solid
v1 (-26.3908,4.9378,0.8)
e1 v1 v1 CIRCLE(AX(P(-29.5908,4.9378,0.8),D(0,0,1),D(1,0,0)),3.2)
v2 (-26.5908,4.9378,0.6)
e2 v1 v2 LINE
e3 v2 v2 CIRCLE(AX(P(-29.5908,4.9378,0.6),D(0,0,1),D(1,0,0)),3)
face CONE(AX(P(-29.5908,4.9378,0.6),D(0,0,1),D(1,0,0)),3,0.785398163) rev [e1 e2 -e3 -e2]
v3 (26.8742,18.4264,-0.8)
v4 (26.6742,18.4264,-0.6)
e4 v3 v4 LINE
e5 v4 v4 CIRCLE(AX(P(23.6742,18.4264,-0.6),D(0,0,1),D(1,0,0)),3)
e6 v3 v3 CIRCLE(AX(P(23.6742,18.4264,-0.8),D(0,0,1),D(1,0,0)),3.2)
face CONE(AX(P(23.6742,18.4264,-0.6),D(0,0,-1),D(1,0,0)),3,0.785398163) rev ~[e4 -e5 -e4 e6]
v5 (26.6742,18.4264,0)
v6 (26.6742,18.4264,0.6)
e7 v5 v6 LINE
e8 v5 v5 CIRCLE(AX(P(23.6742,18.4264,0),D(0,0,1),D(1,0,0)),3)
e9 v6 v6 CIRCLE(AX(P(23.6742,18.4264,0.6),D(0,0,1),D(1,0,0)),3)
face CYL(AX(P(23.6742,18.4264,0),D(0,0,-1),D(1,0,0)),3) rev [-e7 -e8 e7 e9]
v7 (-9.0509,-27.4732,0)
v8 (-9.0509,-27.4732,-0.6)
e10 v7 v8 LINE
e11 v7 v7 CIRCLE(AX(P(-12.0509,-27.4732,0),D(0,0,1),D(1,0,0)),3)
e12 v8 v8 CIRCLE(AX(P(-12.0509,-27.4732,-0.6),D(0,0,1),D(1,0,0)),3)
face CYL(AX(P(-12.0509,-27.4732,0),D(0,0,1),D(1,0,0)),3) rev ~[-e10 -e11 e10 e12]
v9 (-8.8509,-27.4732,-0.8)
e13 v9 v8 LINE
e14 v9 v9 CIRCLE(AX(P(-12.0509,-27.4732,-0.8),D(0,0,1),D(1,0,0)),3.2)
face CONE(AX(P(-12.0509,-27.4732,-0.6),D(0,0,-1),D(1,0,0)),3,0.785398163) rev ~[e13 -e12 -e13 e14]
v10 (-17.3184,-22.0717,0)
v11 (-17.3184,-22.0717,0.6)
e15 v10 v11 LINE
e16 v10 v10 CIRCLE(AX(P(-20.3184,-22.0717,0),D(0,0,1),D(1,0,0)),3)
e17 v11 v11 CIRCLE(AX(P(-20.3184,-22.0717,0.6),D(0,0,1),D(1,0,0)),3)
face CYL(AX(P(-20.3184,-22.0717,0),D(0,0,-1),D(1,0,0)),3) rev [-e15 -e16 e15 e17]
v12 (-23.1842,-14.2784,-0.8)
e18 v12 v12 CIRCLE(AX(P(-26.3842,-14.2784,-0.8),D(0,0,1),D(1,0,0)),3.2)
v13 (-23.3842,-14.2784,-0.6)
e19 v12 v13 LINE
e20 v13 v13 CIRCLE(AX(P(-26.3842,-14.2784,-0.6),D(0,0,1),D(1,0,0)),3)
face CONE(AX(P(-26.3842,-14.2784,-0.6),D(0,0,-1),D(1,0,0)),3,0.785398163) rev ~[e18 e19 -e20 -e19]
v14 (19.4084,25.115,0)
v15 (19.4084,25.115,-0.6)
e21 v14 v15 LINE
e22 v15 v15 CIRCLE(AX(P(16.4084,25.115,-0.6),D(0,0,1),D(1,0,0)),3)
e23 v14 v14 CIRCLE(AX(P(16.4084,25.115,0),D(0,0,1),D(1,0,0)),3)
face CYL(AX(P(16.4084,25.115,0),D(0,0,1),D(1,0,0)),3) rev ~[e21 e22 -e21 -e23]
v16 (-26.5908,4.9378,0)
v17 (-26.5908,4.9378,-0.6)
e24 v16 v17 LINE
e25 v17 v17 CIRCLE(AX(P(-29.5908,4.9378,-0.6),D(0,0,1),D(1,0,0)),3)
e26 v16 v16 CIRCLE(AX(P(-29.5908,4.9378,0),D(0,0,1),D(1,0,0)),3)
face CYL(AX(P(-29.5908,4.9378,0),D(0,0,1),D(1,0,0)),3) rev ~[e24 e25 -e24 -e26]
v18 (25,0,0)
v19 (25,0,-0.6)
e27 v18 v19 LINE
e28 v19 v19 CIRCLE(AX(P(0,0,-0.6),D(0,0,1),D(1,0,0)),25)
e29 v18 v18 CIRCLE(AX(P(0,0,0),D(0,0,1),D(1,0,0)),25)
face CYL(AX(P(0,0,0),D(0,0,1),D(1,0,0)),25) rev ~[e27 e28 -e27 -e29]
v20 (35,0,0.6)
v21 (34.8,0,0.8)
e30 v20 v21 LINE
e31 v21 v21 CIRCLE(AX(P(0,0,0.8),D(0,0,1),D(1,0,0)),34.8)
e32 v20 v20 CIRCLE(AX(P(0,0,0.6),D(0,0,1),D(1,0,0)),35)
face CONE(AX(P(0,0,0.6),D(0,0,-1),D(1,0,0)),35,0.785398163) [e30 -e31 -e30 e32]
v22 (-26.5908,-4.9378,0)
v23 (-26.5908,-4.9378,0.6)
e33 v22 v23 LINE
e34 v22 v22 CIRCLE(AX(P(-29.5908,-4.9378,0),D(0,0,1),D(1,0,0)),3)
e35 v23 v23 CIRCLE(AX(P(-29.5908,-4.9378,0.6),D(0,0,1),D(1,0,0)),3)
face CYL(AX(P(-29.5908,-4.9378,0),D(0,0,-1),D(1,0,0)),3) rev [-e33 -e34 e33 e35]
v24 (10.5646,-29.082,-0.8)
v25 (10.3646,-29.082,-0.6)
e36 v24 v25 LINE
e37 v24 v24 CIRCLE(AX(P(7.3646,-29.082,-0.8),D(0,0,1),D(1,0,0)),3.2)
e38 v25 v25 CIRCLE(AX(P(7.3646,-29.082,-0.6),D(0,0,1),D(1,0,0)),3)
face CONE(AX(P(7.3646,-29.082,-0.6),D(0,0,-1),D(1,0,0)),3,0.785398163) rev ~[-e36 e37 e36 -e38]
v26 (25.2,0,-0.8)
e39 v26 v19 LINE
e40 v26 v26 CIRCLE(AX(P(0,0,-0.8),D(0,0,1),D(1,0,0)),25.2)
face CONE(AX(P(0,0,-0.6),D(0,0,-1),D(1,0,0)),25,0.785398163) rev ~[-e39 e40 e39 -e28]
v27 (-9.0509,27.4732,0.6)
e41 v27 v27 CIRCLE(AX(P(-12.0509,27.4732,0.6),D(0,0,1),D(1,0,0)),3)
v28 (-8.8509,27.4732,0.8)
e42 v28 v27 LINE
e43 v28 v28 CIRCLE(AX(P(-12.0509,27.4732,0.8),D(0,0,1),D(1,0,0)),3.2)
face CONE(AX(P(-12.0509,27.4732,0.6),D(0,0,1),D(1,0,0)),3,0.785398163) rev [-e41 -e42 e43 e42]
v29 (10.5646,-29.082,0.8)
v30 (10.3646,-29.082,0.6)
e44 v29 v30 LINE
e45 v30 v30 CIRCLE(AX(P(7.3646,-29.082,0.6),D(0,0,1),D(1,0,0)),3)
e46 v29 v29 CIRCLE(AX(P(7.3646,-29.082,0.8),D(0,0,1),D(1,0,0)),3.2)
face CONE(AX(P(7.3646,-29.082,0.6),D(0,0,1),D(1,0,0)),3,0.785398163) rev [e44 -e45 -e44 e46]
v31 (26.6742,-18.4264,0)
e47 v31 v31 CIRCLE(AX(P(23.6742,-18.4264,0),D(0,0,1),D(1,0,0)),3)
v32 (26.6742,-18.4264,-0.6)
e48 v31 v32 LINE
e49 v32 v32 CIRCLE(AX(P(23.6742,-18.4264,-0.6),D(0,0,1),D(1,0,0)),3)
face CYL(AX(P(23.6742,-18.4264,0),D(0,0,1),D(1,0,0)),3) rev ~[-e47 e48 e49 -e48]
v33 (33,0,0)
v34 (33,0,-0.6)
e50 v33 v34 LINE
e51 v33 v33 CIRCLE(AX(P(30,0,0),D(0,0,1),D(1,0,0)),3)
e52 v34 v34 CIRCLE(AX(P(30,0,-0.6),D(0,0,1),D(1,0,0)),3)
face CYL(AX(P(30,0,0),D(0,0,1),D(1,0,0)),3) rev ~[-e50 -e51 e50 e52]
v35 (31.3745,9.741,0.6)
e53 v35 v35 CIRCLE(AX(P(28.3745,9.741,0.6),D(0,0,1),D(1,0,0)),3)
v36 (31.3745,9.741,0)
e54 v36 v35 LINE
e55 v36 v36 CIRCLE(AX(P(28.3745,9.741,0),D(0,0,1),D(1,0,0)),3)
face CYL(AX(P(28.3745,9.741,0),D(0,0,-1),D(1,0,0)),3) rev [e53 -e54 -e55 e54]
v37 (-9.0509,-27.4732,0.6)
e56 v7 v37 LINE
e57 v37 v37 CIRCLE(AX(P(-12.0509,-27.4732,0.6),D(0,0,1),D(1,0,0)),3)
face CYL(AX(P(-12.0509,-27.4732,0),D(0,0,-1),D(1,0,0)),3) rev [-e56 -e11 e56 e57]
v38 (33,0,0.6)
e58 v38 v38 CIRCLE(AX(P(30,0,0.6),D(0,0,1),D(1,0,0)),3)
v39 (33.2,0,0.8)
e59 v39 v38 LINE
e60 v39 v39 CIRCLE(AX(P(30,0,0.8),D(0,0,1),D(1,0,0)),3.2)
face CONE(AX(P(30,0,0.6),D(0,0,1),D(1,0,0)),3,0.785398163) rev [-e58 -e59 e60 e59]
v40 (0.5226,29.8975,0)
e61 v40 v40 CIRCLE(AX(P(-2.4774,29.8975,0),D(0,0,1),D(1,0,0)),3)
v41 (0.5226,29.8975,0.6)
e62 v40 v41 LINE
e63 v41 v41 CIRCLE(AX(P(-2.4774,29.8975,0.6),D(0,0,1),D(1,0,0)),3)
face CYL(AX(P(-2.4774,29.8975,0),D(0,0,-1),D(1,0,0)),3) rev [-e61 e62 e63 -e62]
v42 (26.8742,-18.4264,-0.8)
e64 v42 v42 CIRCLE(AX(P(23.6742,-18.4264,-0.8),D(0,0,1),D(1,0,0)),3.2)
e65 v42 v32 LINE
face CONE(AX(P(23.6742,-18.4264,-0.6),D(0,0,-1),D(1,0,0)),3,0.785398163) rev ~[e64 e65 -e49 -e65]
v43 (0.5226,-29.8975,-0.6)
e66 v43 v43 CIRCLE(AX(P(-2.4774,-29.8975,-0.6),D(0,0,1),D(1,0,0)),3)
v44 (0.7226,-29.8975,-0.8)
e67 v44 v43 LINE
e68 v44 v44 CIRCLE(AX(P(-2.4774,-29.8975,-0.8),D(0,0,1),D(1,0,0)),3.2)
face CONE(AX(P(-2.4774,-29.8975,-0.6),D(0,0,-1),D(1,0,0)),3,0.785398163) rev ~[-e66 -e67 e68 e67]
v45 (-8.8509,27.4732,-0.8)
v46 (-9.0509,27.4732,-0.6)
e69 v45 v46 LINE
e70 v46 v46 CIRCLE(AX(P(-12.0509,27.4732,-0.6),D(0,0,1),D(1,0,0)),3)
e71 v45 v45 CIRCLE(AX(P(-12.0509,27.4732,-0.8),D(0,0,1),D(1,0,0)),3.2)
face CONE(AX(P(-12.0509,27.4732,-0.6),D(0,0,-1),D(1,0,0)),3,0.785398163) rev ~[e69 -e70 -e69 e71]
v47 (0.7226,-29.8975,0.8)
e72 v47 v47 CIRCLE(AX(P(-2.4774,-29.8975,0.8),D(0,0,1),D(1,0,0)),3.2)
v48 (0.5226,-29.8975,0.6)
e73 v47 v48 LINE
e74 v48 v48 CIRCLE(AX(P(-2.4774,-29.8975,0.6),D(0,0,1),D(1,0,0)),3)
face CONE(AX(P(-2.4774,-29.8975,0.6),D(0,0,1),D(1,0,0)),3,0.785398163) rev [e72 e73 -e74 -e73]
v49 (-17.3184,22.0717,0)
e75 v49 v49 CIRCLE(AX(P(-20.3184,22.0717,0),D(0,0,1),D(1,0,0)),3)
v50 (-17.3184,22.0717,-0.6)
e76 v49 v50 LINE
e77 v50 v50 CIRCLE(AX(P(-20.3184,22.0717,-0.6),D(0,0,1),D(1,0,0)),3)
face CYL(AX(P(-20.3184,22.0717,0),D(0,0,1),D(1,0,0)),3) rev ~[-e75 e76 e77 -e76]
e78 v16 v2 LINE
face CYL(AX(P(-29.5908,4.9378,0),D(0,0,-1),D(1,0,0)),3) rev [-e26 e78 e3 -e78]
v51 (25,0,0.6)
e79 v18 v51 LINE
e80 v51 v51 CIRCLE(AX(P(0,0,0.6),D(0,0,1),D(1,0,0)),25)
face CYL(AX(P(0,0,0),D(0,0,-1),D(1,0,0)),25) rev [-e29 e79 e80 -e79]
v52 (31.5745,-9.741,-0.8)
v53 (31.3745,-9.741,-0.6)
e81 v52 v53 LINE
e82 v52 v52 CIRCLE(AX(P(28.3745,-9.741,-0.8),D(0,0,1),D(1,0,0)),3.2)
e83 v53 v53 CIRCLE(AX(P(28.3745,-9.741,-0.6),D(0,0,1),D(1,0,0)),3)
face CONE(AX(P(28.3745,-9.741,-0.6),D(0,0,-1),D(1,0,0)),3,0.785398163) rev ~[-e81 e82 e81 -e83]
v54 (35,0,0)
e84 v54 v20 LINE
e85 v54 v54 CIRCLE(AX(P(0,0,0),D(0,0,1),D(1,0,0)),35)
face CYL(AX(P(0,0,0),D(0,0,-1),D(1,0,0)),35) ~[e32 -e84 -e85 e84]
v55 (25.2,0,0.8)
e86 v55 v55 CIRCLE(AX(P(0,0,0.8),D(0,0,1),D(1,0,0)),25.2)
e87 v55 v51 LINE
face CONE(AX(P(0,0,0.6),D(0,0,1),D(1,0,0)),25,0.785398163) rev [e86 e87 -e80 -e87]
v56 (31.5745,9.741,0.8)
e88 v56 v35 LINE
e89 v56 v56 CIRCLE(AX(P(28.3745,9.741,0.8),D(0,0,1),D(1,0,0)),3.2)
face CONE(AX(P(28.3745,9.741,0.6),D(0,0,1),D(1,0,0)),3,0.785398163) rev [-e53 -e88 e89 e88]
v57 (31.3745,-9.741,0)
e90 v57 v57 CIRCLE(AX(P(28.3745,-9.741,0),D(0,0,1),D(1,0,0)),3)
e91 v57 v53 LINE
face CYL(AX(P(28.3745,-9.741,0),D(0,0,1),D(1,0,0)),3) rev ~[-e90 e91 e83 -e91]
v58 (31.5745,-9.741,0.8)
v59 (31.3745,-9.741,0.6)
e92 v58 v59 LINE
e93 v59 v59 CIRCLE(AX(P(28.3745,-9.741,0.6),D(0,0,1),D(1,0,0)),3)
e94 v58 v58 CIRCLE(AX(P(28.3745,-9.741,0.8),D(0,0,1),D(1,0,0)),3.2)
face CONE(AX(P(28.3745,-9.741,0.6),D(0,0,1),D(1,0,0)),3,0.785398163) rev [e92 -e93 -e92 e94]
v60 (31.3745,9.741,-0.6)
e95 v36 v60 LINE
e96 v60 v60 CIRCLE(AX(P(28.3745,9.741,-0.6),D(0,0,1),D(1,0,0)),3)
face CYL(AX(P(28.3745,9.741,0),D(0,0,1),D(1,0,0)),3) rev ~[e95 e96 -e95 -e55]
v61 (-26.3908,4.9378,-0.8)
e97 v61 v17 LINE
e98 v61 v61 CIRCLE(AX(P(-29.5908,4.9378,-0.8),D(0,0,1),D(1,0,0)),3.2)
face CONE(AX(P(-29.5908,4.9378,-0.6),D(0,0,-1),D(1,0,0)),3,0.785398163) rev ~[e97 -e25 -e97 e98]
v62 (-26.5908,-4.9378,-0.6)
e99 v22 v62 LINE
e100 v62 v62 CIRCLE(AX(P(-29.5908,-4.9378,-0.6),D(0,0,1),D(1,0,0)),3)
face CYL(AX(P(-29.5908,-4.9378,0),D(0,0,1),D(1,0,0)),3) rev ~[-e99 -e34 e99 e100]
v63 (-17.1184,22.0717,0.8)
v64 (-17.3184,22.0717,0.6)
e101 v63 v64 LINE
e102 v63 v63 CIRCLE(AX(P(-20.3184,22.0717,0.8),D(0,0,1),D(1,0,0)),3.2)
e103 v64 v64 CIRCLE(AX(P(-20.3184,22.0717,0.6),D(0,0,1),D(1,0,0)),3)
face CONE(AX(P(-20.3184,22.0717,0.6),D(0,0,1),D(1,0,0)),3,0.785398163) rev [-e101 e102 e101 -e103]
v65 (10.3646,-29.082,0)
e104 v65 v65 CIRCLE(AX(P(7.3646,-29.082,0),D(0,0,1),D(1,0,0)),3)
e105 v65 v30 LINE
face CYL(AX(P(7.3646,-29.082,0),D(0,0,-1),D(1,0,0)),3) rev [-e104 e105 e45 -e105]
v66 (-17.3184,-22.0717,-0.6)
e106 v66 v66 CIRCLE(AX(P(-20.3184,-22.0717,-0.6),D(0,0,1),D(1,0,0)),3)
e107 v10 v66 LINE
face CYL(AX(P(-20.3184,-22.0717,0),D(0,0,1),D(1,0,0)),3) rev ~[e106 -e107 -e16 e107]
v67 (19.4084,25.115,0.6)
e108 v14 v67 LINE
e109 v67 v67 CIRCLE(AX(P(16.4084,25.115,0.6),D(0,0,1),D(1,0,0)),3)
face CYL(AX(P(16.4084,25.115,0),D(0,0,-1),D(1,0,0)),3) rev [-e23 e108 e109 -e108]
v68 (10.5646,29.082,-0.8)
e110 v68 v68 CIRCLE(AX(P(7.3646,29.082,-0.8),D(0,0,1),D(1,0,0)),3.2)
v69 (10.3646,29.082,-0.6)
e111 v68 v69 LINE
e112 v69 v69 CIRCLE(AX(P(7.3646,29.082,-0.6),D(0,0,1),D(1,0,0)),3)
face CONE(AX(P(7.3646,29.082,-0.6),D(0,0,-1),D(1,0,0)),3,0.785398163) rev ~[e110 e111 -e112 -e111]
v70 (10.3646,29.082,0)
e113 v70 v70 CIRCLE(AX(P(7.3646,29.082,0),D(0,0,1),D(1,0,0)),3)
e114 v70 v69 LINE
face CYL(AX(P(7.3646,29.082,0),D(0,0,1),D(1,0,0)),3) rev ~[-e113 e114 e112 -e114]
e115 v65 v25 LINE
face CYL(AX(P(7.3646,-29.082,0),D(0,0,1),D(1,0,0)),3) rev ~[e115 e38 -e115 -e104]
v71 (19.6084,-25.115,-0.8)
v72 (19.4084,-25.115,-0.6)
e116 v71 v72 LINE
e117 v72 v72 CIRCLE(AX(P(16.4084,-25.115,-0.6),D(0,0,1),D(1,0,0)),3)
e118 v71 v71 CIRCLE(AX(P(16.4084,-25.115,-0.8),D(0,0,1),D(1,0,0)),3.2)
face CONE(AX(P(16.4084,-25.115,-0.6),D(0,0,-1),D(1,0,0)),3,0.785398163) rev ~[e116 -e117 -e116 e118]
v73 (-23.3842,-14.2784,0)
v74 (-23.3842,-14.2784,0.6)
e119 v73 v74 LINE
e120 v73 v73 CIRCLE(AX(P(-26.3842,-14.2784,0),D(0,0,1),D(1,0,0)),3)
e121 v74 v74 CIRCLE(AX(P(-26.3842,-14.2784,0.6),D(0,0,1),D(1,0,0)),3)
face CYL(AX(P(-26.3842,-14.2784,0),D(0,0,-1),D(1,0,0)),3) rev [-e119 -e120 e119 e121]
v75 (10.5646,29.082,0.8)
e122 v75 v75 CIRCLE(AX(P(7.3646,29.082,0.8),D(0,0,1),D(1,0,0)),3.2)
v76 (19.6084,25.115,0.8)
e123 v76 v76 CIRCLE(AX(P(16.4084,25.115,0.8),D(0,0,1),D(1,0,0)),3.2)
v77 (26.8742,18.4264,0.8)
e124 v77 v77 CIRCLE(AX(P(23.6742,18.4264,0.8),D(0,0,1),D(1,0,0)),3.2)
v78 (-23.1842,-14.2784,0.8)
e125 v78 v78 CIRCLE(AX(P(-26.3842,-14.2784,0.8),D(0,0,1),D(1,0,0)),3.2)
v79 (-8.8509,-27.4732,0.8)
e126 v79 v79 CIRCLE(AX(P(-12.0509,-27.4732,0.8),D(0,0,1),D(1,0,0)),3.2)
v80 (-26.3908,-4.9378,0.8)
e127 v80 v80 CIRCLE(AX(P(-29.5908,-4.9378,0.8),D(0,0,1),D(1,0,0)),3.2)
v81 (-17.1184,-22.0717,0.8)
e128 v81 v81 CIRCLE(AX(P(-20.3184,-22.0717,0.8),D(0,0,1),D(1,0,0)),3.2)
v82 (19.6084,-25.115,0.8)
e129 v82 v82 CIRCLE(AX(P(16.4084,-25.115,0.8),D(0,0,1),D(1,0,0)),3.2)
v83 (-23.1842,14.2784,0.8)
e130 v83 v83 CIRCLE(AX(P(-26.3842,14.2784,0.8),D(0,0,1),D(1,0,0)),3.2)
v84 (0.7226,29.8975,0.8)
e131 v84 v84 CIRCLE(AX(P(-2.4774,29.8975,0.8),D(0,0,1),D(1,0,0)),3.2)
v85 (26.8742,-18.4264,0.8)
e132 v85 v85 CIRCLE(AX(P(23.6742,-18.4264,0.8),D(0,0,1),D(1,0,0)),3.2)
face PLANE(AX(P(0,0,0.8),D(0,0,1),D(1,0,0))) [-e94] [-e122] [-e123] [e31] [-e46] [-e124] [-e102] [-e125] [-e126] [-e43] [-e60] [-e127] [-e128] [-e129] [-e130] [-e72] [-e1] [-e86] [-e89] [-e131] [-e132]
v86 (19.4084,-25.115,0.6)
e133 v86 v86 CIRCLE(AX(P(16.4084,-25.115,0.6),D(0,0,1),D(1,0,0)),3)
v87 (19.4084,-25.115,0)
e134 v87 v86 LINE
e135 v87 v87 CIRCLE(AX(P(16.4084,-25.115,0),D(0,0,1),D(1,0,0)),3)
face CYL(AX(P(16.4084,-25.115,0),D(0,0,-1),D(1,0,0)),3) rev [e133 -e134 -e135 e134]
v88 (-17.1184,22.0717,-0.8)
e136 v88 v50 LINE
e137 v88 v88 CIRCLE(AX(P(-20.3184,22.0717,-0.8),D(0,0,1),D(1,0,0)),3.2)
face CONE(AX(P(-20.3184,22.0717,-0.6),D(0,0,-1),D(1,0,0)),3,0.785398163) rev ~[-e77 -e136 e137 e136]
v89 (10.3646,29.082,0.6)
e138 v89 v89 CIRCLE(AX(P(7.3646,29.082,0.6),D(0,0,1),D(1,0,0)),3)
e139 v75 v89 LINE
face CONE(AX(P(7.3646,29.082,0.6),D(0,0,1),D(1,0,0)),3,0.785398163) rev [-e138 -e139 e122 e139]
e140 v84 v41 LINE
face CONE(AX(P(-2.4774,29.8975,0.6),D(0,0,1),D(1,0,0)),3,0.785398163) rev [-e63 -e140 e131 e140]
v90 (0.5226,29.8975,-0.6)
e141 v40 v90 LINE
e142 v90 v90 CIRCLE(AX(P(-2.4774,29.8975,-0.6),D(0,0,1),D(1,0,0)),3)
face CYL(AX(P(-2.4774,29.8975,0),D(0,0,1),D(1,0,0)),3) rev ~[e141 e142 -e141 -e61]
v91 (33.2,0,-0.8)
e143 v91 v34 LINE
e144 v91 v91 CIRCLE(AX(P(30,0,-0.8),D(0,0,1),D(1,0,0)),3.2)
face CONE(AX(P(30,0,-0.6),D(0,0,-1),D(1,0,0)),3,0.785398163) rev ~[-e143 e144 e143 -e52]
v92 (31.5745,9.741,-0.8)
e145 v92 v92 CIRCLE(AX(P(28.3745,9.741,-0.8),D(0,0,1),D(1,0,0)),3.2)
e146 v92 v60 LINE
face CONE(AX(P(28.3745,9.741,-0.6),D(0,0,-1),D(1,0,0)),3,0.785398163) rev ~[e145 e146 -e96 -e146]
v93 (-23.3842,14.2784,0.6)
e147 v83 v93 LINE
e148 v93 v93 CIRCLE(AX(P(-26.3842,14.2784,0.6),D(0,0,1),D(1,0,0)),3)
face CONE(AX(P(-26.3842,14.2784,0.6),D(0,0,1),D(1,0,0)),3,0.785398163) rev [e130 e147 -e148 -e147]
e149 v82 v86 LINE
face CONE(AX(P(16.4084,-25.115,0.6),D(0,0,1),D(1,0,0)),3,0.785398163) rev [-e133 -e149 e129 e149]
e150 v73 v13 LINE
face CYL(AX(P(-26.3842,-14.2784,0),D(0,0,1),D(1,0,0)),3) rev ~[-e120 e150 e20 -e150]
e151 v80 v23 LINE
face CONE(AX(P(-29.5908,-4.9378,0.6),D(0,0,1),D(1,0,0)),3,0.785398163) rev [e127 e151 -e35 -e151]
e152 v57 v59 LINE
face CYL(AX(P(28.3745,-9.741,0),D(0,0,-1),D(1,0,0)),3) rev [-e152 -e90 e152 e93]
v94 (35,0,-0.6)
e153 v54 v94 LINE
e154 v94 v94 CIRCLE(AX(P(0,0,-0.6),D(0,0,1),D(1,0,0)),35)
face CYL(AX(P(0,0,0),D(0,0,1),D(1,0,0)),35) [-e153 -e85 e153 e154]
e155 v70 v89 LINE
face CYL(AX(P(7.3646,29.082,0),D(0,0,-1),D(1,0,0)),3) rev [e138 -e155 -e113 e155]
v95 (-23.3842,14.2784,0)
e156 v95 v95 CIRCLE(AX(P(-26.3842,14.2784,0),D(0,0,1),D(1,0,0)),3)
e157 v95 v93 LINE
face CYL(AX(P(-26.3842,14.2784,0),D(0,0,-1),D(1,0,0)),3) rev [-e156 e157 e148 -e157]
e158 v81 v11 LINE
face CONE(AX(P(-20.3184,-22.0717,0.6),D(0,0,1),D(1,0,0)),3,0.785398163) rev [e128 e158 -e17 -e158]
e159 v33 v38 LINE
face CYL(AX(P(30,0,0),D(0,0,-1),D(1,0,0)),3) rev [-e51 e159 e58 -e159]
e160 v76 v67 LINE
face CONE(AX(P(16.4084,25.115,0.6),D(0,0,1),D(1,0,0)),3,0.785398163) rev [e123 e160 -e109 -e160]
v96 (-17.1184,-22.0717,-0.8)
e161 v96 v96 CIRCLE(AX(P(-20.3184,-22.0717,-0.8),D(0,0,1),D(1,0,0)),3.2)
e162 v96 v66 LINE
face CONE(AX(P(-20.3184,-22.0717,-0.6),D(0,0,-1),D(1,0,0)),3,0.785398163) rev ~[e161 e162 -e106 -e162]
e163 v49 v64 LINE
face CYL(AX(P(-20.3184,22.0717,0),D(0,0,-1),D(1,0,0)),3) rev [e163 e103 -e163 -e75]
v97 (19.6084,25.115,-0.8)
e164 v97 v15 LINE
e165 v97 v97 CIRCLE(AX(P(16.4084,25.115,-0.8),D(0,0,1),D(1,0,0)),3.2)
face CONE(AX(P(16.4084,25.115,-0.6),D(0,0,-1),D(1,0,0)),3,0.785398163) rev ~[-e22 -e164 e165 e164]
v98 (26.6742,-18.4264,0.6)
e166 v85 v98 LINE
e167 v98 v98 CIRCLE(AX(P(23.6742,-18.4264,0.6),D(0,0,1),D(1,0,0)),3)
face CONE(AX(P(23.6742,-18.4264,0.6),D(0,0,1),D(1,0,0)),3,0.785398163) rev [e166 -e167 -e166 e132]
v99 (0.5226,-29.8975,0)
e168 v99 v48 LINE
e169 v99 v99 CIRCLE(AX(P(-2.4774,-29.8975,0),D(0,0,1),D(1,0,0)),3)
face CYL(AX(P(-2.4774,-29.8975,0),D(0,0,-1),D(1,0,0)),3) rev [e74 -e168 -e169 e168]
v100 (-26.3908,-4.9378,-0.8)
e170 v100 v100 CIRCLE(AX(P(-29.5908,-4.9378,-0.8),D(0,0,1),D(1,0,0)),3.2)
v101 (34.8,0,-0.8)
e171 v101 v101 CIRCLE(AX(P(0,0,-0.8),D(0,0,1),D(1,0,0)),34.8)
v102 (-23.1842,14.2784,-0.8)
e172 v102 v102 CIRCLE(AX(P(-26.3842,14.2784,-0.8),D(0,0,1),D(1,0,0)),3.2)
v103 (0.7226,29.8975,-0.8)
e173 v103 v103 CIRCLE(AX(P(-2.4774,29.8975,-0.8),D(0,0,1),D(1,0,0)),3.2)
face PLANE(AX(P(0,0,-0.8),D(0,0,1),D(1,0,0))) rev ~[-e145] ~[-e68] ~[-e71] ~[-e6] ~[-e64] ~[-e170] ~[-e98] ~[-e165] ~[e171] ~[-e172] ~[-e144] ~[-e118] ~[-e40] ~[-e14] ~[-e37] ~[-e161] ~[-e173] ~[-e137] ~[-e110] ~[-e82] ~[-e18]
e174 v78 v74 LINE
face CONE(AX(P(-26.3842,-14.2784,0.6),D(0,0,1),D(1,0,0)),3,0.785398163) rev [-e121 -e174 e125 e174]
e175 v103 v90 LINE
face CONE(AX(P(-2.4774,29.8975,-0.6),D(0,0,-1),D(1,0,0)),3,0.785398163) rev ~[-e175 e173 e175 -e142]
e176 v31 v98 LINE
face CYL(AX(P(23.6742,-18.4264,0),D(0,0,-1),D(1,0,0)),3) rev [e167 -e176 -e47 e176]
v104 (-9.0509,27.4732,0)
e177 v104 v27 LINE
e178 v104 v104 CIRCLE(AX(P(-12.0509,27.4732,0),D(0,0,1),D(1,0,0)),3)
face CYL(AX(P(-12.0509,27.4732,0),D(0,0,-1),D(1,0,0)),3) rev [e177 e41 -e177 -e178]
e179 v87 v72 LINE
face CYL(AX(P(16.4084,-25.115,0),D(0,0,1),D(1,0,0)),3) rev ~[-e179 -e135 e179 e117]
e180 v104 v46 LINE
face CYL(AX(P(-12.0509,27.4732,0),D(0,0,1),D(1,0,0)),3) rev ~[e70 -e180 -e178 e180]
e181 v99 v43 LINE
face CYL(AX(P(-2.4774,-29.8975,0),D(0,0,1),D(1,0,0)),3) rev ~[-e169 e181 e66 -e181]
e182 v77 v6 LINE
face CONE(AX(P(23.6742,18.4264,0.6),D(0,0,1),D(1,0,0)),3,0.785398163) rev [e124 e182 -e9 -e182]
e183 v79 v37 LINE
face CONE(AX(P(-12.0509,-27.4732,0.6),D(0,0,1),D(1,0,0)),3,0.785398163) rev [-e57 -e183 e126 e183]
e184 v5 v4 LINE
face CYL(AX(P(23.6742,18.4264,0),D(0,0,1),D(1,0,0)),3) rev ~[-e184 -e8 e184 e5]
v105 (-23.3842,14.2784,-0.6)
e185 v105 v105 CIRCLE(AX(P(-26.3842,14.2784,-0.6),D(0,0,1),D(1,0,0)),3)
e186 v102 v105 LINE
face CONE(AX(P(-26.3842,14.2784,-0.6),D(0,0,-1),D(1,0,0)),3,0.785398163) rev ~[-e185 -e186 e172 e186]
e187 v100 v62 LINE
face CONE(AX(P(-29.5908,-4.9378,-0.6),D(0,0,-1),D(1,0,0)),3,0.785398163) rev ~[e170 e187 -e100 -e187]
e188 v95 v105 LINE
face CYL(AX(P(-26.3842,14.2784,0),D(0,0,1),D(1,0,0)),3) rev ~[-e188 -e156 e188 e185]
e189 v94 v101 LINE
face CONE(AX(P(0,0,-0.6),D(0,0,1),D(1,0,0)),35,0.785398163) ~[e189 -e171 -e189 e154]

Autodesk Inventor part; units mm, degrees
ref_plane "YZ Plane" through (0, 0, 0) normal (1, 0, 0) x (0, 1, 0)
ref_plane "XZ Plane" through (0, 0, 0) normal (0, 1, 0) x (-1, 0, 0)
ref_plane "XY Plane" through (0, 0, 0) normal (0, 0, 1) x (1, 0, 0)
sketch "Sketch1" plane through (0, 0, 0) normal (0, 0, 1) x (1, 0, 0)
  circle A0 centre (0, 0) radius 25
  circle A1 centre (0, 0) radius 35
  circle A2 centre (30, 0) radius 3
  circle A3 centre (28.3745, 9.741) radius 3
  circle A4 centre (23.6742, 18.4264) radius 3
  circle A5 centre (16.4084, 25.115) radius 3
  circle A6 centre (7.3646, 29.082) radius 3
  circle A7 centre (-2.4774, 29.8975) radius 3
  circle A8 centre (-12.0509, 27.4732) radius 3
  circle A9 centre (-20.3184, 22.0717) radius 3
  circle A10 centre (-26.3842, 14.2784) radius 3
  circle A11 centre (-29.5908, 4.9378) radius 3
  circle A12 centre (-29.5908, -4.9378) radius 3
  circle A13 centre (-26.3842, -14.2784) radius 3
  circle A14 centre (-20.3184, -22.0717) radius 3
  circle A15 centre (-12.0509, -27.4732) radius 3
  circle A16 centre (-2.4774, -29.8975) radius 3
  circle A17 centre (7.3646, -29.082) radius 3
  circle A18 centre (16.4084, -25.115) radius 3
  circle A19 centre (23.6742, -18.4264) radius 3
  circle A20 centre (28.3745, -9.741) radius 3
  point P0 (35, 0)
  dimension "d2" = 70
  dimension "d0" = 50
  dimension "d3" = 6
  dimension "d4" = 5
  dimension "d7" = 360
extrude "Extrusion1" add sketch "Sketch1" along normal mid plane 1.6
chamfer "Chamfer1" distance 0.2 angle 45 42 edges at (20.6742, -18.4264, -0.8) (13.4084, -25.115, -0.8) (13.4084, -25.115, 0.8) (4.3646, -29.082, 0.8) (-15.0509, -27.4732, -0.8) (-15.0509, -27.4732, 0.8) (-5.4774, -29.8975, -0.8) (-5.4774, -29.8975, 0.8) (20.6742, -18.4264, 0.8) (4.3646, -29.082, -0.8) (25.3745, -9.741, -0.8) (25.3745, -9.741, 0.8) (-25, 0, -0.8) (-25, 0, 0.8) (-35, 0, -0.8) (-35, 0, 0.8) (-29.3842, 14.2784, -0.8) (-29.3842, 14.2784, 0.8) (-23.3184, 22.0717, -0.8) (-23.3184, 22.0717, 0.8) (20.6742, 18.4264, 0.8) (4.3646, 29.082, 0.8) (4.3646, 29.082, -0.8) (20.6742, 18.4264, -0.8) (-29.3842, -14.2784, -0.8) (-29.3842, -14.2784, 0.8) (-23.3184, -22.0717, -0.8) (-23.3184, -22.0717, 0.8) (-32.5908, -4.9378, 0.8) (-32.5908, -4.9378, -0.8) (-32.5908, 4.9378, -0.8) (-32.5908, 4.9378, 0.8) (27, 0, 0.8) (27, 0, -0.8) (-5.4774, 29.8975, -0.8) (-5.4774, 29.8975, 0.8) (13.4084, 25.115, -0.8) (13.4084, 25.115, 0.8) (25.3745, 9.741, -0.8) (25.3745, 9.741, 0.8) (-15.0509, 27.4732, -0.8) (-15.0509, 27.4732, 0.8)
properties part number "ballRing" material "Stainless Steel"
